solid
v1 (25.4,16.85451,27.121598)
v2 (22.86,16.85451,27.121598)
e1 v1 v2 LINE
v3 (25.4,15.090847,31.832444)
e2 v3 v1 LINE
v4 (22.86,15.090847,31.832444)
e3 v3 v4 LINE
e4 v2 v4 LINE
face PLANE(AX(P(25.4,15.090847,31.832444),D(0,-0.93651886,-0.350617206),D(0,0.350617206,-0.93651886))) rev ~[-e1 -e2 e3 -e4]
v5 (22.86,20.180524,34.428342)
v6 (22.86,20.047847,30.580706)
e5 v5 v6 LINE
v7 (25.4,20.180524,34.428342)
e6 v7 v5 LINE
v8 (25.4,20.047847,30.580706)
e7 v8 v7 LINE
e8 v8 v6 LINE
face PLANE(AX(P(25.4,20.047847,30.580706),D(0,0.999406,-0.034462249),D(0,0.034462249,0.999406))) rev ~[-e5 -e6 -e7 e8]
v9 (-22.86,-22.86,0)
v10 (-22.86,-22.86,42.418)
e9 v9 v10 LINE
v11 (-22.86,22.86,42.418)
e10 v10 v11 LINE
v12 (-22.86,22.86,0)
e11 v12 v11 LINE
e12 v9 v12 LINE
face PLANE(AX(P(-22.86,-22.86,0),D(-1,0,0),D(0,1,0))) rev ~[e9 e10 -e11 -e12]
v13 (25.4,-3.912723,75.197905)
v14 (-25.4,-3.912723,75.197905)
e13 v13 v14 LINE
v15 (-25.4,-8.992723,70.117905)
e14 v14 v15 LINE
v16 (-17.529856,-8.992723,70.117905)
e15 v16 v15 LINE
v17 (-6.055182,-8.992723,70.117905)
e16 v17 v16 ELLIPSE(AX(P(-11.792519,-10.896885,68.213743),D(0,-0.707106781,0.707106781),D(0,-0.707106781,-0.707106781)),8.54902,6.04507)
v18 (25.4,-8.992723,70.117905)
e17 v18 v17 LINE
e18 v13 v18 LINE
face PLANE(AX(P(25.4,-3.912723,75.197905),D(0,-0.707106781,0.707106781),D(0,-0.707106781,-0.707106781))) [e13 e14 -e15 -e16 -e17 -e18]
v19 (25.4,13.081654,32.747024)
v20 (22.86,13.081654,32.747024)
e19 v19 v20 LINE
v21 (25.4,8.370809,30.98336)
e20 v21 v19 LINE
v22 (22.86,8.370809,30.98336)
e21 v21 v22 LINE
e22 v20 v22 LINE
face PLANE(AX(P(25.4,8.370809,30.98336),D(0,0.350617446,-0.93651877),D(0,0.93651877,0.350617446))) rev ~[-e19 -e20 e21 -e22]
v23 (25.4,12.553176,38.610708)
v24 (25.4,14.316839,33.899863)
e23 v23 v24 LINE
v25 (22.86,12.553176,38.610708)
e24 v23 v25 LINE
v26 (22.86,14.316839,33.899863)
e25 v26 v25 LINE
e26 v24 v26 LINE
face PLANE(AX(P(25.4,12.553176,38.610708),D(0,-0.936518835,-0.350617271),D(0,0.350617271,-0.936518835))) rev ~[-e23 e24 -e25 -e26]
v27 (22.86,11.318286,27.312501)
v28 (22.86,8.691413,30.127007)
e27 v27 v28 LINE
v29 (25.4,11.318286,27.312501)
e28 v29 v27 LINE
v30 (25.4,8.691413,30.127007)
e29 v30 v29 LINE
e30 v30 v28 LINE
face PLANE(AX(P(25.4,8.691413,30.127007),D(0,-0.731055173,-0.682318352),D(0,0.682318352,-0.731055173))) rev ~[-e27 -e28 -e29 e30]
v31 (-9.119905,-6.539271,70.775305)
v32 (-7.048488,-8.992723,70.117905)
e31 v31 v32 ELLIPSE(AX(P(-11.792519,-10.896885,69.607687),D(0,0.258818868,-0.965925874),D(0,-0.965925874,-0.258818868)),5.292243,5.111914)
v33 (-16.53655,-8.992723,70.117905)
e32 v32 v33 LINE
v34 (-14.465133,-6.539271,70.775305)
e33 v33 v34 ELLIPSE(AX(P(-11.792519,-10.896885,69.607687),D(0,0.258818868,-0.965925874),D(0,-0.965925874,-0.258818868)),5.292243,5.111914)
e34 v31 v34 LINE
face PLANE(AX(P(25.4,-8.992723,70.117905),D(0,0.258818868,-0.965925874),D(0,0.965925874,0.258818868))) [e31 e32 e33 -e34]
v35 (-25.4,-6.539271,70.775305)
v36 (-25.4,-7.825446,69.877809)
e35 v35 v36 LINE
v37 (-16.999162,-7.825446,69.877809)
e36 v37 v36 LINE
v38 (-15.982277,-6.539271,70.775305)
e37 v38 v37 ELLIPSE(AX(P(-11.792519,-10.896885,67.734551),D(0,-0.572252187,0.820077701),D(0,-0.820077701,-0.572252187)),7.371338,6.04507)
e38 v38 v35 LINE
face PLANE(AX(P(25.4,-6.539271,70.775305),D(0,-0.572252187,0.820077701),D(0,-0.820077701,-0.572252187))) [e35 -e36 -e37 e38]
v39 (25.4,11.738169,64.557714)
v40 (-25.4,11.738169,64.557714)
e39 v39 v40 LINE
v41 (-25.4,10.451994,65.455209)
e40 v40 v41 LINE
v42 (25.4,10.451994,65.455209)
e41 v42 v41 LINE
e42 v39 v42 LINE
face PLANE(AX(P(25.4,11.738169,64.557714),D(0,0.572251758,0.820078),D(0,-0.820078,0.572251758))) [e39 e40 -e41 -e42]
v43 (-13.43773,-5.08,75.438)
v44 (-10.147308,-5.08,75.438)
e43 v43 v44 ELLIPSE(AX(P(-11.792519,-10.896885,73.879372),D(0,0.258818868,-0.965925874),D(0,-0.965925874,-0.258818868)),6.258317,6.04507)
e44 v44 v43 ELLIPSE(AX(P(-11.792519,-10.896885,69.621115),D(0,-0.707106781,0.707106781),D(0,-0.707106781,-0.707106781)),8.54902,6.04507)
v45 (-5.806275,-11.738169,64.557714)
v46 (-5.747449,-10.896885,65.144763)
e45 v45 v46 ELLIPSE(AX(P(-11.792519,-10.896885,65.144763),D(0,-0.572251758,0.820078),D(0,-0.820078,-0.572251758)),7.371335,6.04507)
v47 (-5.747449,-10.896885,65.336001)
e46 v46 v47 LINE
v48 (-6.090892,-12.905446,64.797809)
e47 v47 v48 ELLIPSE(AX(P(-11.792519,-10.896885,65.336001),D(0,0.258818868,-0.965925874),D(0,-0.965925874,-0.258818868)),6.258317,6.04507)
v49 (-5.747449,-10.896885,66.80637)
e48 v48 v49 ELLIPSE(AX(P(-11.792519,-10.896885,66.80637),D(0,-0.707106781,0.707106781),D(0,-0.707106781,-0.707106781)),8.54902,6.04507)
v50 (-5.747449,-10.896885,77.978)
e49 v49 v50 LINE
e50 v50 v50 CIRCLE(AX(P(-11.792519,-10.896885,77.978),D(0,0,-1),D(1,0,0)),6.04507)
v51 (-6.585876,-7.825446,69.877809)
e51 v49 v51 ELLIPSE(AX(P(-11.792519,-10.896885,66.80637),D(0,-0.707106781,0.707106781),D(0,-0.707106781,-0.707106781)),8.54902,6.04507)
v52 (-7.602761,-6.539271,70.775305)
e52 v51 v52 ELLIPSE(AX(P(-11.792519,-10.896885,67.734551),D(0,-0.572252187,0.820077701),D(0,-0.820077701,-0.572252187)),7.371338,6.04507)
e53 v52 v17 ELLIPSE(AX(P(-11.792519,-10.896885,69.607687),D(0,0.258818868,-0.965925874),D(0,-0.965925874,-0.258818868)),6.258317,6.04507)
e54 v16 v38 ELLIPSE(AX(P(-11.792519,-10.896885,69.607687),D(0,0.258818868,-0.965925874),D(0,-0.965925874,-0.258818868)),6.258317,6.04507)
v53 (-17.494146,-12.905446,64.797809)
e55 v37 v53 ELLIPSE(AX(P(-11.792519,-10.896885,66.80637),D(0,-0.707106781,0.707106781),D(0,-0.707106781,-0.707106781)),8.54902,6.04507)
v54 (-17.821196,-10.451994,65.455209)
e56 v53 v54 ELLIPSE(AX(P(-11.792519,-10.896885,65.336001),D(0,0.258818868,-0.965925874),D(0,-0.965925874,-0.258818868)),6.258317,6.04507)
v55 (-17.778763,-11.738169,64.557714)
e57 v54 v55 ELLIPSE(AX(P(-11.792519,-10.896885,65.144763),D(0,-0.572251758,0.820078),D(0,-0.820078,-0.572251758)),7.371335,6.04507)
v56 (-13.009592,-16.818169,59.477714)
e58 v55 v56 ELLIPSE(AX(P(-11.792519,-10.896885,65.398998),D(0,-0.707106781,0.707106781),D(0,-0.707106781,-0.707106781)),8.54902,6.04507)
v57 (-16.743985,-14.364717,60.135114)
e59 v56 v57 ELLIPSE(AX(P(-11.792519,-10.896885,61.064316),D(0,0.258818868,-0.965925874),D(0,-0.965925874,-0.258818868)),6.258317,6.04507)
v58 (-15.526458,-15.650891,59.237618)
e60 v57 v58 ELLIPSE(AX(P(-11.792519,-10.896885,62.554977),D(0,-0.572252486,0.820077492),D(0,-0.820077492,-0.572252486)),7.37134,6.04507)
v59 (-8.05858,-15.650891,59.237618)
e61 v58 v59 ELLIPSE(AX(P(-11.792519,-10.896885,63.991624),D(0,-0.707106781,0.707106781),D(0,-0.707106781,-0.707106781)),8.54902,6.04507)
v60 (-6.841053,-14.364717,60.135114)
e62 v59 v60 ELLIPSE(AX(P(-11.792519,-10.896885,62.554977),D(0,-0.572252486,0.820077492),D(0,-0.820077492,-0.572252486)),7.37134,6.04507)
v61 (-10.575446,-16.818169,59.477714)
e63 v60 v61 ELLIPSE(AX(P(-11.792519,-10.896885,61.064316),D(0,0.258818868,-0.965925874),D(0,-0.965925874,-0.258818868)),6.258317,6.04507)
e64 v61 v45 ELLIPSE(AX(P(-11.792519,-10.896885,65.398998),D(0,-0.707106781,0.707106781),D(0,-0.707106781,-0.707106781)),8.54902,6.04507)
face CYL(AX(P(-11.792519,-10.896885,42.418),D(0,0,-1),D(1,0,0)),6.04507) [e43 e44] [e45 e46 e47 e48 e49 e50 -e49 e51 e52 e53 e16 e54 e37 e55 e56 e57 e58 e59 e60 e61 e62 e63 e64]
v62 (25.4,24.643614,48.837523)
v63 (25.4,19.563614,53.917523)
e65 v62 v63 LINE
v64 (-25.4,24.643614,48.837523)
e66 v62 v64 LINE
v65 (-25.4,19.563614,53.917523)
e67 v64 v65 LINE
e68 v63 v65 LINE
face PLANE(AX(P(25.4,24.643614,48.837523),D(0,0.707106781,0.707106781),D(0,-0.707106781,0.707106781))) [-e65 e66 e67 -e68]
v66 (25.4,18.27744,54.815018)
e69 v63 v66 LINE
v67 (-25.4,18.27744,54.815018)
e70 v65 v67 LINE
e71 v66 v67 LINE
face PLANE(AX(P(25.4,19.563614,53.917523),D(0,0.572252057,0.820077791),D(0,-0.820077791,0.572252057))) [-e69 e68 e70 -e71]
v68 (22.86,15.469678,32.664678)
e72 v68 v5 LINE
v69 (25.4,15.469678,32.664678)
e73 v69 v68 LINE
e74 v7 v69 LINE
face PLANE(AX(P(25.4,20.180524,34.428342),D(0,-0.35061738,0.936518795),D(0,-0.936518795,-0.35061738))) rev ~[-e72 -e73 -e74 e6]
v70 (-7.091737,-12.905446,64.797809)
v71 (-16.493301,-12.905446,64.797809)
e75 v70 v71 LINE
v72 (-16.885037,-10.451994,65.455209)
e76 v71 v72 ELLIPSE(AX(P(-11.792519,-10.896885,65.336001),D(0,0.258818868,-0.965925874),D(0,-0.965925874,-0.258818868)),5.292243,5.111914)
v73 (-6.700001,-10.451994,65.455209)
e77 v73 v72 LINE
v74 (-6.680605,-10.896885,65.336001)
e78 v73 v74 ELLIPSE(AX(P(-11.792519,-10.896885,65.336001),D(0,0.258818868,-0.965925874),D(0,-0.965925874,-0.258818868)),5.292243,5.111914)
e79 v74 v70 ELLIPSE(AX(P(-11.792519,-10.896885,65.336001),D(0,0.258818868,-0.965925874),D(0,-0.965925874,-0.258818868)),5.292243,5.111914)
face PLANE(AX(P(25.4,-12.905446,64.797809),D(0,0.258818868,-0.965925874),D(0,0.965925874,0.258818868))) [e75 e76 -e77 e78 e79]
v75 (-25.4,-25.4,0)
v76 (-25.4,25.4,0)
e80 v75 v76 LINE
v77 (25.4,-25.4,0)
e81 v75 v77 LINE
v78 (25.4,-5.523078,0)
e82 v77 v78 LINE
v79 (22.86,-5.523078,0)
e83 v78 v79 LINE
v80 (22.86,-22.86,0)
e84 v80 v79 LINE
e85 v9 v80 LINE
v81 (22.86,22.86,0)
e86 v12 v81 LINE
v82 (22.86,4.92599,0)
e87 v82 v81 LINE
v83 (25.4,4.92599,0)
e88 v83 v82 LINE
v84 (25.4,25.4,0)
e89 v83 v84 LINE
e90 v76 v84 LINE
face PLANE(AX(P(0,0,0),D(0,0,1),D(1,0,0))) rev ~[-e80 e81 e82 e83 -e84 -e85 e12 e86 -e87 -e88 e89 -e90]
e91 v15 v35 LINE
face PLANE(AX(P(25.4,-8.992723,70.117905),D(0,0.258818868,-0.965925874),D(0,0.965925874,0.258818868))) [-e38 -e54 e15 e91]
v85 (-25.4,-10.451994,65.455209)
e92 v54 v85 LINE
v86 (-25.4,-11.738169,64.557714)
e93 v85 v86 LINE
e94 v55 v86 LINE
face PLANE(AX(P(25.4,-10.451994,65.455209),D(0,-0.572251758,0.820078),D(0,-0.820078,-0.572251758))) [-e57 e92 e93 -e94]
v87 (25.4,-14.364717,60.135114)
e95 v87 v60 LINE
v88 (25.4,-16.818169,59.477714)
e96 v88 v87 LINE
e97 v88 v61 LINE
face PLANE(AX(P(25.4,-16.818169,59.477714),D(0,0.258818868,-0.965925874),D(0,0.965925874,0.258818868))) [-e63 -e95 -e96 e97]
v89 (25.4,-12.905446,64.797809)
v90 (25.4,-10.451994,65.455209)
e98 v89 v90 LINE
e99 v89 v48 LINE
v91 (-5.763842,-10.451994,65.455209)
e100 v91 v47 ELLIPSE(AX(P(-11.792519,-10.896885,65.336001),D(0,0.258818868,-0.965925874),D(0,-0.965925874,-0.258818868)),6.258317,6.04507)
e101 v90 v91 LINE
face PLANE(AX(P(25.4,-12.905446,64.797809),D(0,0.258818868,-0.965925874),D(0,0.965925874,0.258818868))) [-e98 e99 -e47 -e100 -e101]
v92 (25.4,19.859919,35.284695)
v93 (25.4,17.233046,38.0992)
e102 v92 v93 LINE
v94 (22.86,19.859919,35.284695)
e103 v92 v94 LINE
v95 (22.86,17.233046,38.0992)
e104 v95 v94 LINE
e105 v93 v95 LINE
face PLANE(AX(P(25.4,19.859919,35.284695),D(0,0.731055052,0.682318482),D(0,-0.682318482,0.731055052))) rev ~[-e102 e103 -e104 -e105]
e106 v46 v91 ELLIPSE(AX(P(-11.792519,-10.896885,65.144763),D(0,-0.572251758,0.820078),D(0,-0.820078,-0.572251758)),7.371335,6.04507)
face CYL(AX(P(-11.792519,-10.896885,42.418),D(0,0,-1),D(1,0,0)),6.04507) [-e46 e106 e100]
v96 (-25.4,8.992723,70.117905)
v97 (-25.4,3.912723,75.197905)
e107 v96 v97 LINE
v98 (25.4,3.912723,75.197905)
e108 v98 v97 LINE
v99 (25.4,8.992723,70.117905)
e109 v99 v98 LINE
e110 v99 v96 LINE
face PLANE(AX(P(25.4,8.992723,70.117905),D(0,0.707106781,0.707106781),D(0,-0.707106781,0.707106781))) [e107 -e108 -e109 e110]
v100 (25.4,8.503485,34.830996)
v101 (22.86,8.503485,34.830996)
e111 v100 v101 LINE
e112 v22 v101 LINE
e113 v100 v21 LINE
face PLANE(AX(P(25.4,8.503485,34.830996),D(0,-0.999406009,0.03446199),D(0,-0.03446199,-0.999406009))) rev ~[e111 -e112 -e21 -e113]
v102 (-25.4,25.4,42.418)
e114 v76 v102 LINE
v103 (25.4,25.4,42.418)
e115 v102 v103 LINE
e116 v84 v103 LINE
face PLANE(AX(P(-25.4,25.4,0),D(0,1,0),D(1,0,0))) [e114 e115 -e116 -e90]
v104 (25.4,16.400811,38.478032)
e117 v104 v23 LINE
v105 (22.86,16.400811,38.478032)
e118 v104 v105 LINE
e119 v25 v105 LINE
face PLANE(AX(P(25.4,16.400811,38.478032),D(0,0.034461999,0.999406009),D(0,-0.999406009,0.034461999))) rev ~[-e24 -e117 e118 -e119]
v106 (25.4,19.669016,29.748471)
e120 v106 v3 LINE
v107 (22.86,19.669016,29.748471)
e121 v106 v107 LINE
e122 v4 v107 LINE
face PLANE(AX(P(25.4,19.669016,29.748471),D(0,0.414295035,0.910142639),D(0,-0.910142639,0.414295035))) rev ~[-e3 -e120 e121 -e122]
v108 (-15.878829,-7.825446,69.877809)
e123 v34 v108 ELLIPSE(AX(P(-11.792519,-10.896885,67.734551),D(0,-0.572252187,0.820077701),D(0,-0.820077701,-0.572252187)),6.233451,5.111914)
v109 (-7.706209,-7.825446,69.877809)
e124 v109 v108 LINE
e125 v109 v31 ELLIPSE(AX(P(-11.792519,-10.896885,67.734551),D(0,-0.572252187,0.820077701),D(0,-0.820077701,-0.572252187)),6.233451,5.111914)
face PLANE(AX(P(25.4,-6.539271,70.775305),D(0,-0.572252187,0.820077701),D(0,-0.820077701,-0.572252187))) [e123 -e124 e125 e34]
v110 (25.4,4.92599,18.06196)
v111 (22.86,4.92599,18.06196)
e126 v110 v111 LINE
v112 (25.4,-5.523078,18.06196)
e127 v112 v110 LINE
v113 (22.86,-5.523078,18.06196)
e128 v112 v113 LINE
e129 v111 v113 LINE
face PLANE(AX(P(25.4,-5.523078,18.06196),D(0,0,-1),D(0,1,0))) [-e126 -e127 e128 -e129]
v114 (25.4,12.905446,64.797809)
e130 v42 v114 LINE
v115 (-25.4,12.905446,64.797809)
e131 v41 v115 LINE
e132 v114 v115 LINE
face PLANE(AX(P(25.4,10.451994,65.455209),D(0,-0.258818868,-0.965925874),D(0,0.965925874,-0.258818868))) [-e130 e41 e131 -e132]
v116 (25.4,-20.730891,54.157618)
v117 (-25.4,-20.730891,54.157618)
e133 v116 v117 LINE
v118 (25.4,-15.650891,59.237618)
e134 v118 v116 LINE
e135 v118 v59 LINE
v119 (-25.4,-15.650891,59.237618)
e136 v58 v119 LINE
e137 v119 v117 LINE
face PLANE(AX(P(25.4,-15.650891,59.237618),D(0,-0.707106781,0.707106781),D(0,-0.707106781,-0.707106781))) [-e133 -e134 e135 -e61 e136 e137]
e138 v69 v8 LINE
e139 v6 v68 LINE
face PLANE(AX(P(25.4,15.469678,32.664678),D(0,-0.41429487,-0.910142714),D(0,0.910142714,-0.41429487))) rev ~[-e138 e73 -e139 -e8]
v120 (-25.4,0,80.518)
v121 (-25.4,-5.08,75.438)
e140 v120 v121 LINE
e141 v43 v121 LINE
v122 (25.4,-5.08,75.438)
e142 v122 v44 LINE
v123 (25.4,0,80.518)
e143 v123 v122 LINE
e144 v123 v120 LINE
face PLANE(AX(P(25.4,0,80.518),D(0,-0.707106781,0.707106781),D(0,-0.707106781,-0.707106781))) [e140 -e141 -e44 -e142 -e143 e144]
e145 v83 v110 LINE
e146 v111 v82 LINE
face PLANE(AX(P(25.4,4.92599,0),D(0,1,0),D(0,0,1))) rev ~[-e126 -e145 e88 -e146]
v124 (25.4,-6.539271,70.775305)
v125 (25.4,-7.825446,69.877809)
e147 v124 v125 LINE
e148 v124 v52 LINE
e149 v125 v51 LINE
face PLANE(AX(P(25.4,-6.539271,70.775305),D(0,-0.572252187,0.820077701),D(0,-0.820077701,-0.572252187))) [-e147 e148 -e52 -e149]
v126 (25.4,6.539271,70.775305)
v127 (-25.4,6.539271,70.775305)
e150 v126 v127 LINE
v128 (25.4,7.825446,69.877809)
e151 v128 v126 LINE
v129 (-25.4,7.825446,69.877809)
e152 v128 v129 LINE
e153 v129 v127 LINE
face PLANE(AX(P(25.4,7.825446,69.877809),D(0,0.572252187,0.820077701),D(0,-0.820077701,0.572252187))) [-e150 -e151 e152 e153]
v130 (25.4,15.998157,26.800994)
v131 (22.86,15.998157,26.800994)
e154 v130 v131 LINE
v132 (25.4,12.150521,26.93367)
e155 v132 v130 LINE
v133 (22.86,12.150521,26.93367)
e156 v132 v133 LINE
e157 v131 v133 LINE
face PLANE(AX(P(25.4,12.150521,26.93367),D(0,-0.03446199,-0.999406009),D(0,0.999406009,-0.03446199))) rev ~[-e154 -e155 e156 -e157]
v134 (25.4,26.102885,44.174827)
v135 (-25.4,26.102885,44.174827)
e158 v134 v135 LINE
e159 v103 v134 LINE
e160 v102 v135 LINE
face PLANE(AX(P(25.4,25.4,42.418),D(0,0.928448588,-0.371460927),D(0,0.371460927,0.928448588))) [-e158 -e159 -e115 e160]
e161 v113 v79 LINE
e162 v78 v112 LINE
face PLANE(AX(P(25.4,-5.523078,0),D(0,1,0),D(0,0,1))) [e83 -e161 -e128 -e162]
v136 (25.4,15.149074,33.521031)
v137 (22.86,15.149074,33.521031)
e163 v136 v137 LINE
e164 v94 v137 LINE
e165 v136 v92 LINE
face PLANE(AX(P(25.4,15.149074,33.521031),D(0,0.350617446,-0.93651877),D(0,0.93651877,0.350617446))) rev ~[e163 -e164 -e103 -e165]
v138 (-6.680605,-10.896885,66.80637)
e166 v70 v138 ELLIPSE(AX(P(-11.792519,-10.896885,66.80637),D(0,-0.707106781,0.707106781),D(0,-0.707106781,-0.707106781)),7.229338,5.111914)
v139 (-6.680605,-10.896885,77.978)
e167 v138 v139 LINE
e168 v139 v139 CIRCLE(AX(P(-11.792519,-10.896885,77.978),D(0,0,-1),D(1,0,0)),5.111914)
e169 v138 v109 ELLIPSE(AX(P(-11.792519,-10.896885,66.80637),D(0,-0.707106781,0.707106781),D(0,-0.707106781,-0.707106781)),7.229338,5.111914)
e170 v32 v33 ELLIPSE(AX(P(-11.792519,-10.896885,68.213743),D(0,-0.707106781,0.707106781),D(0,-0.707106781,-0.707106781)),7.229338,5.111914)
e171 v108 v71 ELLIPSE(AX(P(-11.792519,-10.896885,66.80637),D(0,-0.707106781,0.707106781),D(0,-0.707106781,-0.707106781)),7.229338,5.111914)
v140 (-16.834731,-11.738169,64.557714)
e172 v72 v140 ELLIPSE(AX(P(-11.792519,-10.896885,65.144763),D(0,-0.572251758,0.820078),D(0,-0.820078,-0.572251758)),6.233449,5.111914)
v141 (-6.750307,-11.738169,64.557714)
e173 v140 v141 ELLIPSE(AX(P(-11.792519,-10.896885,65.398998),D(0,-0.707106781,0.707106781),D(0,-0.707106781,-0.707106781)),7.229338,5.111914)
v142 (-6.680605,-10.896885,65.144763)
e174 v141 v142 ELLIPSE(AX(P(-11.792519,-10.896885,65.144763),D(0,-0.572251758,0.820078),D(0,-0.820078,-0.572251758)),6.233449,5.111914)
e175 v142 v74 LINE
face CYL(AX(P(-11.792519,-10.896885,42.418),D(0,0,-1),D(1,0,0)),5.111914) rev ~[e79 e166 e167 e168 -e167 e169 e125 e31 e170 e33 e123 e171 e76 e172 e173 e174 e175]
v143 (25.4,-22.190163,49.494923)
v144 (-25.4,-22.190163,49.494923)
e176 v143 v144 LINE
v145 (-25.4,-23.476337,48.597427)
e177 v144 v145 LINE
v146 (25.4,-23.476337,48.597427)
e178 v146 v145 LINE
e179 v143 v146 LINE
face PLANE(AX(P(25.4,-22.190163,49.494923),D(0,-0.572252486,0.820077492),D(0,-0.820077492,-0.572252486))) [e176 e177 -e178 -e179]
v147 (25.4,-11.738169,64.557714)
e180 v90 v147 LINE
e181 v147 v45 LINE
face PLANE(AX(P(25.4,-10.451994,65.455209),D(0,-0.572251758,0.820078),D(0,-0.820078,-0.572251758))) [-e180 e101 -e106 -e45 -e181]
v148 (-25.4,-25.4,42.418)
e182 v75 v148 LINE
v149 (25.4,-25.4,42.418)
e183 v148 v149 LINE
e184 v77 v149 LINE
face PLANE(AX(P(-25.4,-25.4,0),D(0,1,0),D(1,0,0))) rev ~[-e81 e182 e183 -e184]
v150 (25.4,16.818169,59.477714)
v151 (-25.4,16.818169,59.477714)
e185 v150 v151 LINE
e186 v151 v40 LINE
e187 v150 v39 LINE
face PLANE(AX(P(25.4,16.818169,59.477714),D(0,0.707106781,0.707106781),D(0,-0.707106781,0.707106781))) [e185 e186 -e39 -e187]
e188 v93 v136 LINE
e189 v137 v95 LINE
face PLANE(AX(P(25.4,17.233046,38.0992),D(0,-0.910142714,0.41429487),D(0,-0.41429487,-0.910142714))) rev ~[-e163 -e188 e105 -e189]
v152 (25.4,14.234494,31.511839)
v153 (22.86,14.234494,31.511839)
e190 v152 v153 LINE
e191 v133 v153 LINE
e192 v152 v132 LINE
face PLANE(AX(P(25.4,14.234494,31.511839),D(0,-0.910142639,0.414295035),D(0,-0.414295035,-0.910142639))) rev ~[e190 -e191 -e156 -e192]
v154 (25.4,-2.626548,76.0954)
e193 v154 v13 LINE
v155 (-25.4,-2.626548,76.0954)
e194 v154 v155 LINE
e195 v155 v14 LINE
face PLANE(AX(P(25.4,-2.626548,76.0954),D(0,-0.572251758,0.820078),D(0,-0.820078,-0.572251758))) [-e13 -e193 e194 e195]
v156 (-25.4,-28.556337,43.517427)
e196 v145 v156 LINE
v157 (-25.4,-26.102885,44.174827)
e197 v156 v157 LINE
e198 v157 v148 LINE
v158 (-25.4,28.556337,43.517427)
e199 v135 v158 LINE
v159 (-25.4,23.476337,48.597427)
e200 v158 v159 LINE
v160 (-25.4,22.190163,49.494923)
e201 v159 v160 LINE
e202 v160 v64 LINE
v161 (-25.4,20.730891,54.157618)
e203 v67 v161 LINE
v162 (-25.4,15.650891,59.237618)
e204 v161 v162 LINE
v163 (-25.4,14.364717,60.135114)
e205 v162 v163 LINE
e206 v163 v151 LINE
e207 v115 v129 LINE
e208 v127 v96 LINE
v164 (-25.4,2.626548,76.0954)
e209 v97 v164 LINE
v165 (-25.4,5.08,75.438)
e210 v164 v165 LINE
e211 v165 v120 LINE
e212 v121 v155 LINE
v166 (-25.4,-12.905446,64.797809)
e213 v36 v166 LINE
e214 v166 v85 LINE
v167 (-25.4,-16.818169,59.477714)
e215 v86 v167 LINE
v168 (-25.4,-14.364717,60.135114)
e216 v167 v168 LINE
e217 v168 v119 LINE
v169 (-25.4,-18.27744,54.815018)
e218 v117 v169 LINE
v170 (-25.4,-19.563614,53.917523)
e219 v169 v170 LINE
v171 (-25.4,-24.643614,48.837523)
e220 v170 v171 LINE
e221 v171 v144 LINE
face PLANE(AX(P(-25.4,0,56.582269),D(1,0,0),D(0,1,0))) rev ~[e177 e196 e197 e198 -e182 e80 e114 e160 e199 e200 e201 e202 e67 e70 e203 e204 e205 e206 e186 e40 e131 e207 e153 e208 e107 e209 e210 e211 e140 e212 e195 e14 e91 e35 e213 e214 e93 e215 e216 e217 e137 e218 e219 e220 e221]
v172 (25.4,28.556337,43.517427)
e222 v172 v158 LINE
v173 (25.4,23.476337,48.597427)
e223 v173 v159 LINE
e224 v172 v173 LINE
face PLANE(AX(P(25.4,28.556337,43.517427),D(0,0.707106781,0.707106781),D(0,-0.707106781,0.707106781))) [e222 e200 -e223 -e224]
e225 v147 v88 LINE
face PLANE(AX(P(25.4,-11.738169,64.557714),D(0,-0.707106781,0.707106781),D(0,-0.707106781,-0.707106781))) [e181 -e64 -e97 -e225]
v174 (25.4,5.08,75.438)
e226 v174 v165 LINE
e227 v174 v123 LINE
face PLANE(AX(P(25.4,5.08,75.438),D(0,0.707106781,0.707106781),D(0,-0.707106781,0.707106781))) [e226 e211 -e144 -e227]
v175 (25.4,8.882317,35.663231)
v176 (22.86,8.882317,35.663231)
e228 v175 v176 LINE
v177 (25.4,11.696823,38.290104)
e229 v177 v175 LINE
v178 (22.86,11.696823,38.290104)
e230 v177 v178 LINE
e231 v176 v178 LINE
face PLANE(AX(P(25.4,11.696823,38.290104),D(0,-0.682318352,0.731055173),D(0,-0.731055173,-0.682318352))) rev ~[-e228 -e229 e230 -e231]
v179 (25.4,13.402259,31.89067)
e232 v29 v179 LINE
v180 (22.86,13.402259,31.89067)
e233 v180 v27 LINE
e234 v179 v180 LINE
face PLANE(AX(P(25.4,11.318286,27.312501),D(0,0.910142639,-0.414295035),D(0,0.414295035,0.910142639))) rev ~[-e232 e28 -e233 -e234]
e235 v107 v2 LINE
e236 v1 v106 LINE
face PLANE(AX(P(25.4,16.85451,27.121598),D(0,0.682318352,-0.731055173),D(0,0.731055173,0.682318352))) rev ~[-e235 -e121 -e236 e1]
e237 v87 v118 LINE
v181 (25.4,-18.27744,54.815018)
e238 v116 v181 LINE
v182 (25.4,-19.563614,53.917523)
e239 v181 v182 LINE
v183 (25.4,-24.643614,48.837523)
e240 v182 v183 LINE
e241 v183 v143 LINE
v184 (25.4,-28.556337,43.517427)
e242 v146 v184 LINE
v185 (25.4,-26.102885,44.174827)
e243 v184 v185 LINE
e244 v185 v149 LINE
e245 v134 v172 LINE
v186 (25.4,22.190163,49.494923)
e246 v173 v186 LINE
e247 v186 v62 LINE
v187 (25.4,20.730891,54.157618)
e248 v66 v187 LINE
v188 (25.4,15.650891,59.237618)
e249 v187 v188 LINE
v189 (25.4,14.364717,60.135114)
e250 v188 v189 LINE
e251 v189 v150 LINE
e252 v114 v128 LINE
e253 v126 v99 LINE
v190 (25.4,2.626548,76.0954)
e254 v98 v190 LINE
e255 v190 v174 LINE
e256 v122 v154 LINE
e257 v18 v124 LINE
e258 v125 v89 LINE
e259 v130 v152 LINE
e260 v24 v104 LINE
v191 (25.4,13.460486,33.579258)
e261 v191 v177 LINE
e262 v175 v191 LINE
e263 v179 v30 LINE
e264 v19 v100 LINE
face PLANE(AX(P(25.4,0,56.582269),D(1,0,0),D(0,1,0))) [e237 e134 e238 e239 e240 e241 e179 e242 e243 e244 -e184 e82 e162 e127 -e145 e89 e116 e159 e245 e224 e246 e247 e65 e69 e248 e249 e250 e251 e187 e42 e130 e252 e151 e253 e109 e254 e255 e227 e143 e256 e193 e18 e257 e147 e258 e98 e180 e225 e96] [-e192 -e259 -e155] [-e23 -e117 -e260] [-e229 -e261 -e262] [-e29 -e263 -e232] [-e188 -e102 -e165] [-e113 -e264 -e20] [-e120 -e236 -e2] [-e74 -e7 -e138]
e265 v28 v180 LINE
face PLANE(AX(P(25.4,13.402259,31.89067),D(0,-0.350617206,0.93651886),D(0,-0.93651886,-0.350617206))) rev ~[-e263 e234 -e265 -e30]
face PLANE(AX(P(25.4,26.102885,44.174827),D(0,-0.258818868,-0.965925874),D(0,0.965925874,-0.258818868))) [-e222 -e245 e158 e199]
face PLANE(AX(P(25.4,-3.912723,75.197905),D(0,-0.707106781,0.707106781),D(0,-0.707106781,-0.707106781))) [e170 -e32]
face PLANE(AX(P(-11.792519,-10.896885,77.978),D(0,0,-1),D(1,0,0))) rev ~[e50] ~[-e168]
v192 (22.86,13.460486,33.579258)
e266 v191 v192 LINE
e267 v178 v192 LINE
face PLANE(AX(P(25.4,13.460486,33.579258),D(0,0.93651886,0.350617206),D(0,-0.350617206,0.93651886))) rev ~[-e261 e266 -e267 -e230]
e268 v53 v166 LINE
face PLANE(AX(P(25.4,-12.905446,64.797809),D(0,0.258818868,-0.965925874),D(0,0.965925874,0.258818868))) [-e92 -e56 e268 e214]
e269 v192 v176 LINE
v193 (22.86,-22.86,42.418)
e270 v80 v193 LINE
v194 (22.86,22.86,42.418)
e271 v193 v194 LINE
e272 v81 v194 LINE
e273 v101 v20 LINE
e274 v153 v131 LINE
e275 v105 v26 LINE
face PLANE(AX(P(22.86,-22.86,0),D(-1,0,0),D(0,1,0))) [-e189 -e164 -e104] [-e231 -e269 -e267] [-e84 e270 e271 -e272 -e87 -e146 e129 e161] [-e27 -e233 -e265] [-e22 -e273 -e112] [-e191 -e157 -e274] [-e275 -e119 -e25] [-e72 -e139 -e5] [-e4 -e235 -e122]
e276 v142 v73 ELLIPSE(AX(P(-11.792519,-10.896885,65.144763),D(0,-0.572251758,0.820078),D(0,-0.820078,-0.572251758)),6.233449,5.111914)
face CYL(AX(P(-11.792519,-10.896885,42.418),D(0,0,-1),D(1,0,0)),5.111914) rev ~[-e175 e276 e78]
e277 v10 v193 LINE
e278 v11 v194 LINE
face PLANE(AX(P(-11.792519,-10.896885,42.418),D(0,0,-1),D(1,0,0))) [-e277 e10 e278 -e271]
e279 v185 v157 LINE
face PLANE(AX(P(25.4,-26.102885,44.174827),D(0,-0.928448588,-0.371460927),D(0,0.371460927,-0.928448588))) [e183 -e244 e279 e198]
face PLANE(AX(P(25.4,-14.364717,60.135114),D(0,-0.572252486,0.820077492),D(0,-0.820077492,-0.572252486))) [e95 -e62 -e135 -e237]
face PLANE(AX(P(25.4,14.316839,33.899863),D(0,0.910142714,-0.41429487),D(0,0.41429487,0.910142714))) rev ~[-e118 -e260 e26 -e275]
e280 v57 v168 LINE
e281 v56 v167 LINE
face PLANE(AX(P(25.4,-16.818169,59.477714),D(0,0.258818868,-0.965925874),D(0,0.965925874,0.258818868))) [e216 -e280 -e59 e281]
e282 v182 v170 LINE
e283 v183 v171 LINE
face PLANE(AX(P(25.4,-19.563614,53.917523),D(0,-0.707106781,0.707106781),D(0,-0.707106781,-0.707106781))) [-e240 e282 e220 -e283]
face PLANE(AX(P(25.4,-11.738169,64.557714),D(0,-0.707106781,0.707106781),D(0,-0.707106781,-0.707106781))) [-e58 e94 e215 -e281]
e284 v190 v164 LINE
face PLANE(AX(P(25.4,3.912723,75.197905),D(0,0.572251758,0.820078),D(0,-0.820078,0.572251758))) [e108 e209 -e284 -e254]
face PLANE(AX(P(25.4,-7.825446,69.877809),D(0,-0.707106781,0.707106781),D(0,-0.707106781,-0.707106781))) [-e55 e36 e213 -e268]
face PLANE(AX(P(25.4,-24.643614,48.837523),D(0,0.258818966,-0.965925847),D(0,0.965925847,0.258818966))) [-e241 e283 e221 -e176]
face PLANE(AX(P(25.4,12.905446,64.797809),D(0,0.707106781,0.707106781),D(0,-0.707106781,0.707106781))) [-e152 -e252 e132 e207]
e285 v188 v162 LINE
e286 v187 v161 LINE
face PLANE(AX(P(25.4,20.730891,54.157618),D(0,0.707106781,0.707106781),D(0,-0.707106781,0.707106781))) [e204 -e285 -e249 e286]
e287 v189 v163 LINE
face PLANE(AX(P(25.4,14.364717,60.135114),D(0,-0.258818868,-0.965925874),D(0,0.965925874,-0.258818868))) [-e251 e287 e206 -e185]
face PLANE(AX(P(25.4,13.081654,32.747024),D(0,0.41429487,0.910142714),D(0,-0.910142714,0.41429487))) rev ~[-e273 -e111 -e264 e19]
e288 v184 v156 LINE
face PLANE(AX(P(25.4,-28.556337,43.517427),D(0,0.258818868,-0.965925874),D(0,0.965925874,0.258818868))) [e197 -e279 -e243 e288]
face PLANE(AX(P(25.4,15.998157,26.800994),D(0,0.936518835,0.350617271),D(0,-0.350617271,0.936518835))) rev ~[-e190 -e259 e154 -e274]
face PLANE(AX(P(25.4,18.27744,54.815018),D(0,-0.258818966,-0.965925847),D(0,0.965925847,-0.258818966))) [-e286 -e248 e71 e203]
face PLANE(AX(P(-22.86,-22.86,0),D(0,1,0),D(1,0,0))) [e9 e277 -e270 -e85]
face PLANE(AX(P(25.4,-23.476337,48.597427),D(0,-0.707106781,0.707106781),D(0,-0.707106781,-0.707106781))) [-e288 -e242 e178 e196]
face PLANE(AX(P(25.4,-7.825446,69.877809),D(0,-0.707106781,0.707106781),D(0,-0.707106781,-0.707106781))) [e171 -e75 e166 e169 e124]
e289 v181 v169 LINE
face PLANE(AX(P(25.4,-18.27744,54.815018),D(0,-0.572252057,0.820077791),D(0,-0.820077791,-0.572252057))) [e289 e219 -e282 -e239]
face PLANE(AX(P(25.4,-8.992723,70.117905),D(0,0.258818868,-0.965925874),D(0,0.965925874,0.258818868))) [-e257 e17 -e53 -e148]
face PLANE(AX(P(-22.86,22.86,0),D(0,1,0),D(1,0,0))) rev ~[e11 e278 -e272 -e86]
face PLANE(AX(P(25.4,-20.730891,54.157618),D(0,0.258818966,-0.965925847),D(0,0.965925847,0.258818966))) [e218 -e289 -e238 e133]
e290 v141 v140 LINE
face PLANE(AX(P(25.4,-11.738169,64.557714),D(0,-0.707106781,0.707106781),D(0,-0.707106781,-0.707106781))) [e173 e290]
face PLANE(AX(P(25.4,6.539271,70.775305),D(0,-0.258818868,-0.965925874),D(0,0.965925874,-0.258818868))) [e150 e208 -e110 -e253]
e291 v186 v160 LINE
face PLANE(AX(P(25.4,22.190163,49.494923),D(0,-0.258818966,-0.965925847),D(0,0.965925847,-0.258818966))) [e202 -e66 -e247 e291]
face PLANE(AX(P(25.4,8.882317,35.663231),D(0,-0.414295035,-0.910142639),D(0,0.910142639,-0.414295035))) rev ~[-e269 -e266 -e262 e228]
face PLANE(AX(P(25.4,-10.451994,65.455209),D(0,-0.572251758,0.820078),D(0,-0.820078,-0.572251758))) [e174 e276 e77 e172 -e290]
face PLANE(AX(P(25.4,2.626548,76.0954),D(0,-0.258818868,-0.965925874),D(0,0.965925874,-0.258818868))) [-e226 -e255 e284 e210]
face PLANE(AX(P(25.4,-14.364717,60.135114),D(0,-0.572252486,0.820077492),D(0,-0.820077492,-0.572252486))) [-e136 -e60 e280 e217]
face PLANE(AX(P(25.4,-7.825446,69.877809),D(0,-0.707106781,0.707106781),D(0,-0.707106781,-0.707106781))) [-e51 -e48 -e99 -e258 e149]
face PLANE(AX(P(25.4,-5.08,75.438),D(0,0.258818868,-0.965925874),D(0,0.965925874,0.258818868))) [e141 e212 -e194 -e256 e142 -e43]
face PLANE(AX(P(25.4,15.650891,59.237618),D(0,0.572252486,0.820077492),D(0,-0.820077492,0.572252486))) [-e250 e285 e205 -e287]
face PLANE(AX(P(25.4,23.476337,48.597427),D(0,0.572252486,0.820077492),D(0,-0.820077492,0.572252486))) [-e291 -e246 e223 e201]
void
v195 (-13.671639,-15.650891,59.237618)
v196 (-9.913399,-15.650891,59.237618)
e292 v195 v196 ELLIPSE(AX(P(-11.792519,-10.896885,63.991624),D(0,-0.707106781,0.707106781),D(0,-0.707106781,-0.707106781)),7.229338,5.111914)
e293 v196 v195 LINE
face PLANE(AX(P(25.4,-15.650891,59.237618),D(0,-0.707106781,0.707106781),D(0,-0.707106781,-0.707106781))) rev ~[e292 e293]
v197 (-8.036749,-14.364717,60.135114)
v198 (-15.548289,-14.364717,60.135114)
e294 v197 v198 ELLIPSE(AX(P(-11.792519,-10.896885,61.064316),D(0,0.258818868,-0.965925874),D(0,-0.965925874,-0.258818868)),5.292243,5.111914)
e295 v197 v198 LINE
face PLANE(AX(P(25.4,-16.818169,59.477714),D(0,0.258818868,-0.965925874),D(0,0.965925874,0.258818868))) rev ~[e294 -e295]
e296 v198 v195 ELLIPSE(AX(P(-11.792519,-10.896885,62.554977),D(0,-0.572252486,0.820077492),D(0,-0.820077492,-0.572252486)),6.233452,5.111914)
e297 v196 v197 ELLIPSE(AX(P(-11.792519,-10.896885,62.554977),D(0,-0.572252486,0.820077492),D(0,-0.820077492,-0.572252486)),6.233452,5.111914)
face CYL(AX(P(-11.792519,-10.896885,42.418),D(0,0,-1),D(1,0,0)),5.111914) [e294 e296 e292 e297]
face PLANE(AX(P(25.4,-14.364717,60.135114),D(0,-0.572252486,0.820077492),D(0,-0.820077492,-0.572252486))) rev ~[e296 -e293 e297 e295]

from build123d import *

# Parameters (mm, degrees)
F0_W     = 50.8
F0_H     = 50.8
F0_W_2   = 45.72
F0_H_2   = 45.72
F1_DEPTH = 42.418
F2_W     = 10.449068
F2_H     = 18.06196
F3_DEPTH = 33.02
F5_DEPTH = 50.8
F6_R     = 6.04507
F6_R_2   = 5.111914
F7_DEPTH = 35.56
F9_DEPTH = 25.4


with BuildPart() as f1:
    # F0 (on Top) → F1 (new body)
    with BuildSketch(Plane.XY):
        Rectangle(F0_W, F0_H)
        Rectangle(F0_W_2, F0_H_2, mode=Mode.SUBTRACT)
    extrude(amount=F1_DEPTH)

    # F2 (on face) → F3 (cut)
    with BuildSketch(Plane.YZ.offset(25.4)):
        with Locations((-0.298544, 9.03098)):
            Rectangle(F2_W, F2_H)
    extrude(amount=-F3_DEPTH, mode=Mode.SUBTRACT)

    # F4 (on face) → F5 (join)
    with BuildSketch(Plane.YZ.offset(25.4)):
        Polygon((5.08, 75.438), (0, 80.518), (-5.08, 75.438), (-2.626548, 76.0954), (-3.912723, 75.197905), (-8.992723, 70.117905), (-6.539271, 70.775305), (-7.825446, 69.877809), (-12.905446, 64.797809), (-10.451994, 65.455209), (-11.738169, 64.557714), (-16.818169, 59.477714), (-14.364717, 60.135114), (-15.650891, 59.237618), (-20.730891, 54.157618), (-18.27744, 54.815018), (-19.563614, 53.917523), (-24.643614, 48.837523), (-22.190163, 49.494923), (-23.476337, 48.597427), (-28.556337, 43.517427), (-26.102885, 44.174827), (-25.4, 42.418), (25.4, 42.418), (26.102885, 44.174827), (28.556337, 43.517427), (23.476337, 48.597427), (22.190163, 49.494923), (24.643614, 48.837523), (19.563614, 53.917523), (18.27744, 54.815018), (20.730891, 54.157618), (15.650891, 59.237618), (14.364717, 60.135114), (16.818169, 59.477714), (11.738169, 64.557714), (10.451994, 65.455209), (12.905446, 64.797809), (7.825446, 69.877809), (6.539271, 70.775305), (8.992723, 70.117905), (3.912723, 75.197905), (2.626548, 76.0954), align=None)
    extrude(amount=-F5_DEPTH)

    # F6 (on face) → F7 (join)
    with BuildSketch(Plane(origin=(0, 0, 42.418), x_dir=(1, 0, 0), z_dir=(0, 0, -1))):
        with Locations((-11.792519, 10.896885)):
            Circle(F6_R)
        with Locations((-11.792519, 10.896885)):
            Circle(F6_R_2, mode=Mode.SUBTRACT)
    extrude(amount=-F7_DEPTH)

    # F8 (on face) → F9 (cut)
    with BuildSketch(Plane.YZ.offset(25.4)):
        Polygon((13.460486, 33.579258), (11.696823, 38.290104), (8.882317, 35.663231), align=None)
        Polygon((14.316839, 33.899863), (16.400811, 38.478032), (12.553176, 38.610708), align=None)
        Polygon((15.149074, 33.521031), (19.859919, 35.284695), (17.233046, 38.0992), align=None)
        Polygon((13.081654, 32.747024), (8.503485, 34.830996), (8.370809, 30.98336), align=None)
        Polygon((13.402259, 31.89067), (8.691413, 30.127007), (11.318286, 27.312501), align=None)
        Polygon((14.234494, 31.511839), (12.150521, 26.93367), (15.998157, 26.800994), align=None)
        Polygon((15.090847, 31.832444), (16.85451, 27.121598), (19.669016, 29.748471), align=None)
        Polygon((15.469678, 32.664678), (20.047847, 30.580706), (20.180524, 34.428342), align=None)
    extrude(amount=-F9_DEPTH, mode=Mode.SUBTRACT)


solid = f1.part
